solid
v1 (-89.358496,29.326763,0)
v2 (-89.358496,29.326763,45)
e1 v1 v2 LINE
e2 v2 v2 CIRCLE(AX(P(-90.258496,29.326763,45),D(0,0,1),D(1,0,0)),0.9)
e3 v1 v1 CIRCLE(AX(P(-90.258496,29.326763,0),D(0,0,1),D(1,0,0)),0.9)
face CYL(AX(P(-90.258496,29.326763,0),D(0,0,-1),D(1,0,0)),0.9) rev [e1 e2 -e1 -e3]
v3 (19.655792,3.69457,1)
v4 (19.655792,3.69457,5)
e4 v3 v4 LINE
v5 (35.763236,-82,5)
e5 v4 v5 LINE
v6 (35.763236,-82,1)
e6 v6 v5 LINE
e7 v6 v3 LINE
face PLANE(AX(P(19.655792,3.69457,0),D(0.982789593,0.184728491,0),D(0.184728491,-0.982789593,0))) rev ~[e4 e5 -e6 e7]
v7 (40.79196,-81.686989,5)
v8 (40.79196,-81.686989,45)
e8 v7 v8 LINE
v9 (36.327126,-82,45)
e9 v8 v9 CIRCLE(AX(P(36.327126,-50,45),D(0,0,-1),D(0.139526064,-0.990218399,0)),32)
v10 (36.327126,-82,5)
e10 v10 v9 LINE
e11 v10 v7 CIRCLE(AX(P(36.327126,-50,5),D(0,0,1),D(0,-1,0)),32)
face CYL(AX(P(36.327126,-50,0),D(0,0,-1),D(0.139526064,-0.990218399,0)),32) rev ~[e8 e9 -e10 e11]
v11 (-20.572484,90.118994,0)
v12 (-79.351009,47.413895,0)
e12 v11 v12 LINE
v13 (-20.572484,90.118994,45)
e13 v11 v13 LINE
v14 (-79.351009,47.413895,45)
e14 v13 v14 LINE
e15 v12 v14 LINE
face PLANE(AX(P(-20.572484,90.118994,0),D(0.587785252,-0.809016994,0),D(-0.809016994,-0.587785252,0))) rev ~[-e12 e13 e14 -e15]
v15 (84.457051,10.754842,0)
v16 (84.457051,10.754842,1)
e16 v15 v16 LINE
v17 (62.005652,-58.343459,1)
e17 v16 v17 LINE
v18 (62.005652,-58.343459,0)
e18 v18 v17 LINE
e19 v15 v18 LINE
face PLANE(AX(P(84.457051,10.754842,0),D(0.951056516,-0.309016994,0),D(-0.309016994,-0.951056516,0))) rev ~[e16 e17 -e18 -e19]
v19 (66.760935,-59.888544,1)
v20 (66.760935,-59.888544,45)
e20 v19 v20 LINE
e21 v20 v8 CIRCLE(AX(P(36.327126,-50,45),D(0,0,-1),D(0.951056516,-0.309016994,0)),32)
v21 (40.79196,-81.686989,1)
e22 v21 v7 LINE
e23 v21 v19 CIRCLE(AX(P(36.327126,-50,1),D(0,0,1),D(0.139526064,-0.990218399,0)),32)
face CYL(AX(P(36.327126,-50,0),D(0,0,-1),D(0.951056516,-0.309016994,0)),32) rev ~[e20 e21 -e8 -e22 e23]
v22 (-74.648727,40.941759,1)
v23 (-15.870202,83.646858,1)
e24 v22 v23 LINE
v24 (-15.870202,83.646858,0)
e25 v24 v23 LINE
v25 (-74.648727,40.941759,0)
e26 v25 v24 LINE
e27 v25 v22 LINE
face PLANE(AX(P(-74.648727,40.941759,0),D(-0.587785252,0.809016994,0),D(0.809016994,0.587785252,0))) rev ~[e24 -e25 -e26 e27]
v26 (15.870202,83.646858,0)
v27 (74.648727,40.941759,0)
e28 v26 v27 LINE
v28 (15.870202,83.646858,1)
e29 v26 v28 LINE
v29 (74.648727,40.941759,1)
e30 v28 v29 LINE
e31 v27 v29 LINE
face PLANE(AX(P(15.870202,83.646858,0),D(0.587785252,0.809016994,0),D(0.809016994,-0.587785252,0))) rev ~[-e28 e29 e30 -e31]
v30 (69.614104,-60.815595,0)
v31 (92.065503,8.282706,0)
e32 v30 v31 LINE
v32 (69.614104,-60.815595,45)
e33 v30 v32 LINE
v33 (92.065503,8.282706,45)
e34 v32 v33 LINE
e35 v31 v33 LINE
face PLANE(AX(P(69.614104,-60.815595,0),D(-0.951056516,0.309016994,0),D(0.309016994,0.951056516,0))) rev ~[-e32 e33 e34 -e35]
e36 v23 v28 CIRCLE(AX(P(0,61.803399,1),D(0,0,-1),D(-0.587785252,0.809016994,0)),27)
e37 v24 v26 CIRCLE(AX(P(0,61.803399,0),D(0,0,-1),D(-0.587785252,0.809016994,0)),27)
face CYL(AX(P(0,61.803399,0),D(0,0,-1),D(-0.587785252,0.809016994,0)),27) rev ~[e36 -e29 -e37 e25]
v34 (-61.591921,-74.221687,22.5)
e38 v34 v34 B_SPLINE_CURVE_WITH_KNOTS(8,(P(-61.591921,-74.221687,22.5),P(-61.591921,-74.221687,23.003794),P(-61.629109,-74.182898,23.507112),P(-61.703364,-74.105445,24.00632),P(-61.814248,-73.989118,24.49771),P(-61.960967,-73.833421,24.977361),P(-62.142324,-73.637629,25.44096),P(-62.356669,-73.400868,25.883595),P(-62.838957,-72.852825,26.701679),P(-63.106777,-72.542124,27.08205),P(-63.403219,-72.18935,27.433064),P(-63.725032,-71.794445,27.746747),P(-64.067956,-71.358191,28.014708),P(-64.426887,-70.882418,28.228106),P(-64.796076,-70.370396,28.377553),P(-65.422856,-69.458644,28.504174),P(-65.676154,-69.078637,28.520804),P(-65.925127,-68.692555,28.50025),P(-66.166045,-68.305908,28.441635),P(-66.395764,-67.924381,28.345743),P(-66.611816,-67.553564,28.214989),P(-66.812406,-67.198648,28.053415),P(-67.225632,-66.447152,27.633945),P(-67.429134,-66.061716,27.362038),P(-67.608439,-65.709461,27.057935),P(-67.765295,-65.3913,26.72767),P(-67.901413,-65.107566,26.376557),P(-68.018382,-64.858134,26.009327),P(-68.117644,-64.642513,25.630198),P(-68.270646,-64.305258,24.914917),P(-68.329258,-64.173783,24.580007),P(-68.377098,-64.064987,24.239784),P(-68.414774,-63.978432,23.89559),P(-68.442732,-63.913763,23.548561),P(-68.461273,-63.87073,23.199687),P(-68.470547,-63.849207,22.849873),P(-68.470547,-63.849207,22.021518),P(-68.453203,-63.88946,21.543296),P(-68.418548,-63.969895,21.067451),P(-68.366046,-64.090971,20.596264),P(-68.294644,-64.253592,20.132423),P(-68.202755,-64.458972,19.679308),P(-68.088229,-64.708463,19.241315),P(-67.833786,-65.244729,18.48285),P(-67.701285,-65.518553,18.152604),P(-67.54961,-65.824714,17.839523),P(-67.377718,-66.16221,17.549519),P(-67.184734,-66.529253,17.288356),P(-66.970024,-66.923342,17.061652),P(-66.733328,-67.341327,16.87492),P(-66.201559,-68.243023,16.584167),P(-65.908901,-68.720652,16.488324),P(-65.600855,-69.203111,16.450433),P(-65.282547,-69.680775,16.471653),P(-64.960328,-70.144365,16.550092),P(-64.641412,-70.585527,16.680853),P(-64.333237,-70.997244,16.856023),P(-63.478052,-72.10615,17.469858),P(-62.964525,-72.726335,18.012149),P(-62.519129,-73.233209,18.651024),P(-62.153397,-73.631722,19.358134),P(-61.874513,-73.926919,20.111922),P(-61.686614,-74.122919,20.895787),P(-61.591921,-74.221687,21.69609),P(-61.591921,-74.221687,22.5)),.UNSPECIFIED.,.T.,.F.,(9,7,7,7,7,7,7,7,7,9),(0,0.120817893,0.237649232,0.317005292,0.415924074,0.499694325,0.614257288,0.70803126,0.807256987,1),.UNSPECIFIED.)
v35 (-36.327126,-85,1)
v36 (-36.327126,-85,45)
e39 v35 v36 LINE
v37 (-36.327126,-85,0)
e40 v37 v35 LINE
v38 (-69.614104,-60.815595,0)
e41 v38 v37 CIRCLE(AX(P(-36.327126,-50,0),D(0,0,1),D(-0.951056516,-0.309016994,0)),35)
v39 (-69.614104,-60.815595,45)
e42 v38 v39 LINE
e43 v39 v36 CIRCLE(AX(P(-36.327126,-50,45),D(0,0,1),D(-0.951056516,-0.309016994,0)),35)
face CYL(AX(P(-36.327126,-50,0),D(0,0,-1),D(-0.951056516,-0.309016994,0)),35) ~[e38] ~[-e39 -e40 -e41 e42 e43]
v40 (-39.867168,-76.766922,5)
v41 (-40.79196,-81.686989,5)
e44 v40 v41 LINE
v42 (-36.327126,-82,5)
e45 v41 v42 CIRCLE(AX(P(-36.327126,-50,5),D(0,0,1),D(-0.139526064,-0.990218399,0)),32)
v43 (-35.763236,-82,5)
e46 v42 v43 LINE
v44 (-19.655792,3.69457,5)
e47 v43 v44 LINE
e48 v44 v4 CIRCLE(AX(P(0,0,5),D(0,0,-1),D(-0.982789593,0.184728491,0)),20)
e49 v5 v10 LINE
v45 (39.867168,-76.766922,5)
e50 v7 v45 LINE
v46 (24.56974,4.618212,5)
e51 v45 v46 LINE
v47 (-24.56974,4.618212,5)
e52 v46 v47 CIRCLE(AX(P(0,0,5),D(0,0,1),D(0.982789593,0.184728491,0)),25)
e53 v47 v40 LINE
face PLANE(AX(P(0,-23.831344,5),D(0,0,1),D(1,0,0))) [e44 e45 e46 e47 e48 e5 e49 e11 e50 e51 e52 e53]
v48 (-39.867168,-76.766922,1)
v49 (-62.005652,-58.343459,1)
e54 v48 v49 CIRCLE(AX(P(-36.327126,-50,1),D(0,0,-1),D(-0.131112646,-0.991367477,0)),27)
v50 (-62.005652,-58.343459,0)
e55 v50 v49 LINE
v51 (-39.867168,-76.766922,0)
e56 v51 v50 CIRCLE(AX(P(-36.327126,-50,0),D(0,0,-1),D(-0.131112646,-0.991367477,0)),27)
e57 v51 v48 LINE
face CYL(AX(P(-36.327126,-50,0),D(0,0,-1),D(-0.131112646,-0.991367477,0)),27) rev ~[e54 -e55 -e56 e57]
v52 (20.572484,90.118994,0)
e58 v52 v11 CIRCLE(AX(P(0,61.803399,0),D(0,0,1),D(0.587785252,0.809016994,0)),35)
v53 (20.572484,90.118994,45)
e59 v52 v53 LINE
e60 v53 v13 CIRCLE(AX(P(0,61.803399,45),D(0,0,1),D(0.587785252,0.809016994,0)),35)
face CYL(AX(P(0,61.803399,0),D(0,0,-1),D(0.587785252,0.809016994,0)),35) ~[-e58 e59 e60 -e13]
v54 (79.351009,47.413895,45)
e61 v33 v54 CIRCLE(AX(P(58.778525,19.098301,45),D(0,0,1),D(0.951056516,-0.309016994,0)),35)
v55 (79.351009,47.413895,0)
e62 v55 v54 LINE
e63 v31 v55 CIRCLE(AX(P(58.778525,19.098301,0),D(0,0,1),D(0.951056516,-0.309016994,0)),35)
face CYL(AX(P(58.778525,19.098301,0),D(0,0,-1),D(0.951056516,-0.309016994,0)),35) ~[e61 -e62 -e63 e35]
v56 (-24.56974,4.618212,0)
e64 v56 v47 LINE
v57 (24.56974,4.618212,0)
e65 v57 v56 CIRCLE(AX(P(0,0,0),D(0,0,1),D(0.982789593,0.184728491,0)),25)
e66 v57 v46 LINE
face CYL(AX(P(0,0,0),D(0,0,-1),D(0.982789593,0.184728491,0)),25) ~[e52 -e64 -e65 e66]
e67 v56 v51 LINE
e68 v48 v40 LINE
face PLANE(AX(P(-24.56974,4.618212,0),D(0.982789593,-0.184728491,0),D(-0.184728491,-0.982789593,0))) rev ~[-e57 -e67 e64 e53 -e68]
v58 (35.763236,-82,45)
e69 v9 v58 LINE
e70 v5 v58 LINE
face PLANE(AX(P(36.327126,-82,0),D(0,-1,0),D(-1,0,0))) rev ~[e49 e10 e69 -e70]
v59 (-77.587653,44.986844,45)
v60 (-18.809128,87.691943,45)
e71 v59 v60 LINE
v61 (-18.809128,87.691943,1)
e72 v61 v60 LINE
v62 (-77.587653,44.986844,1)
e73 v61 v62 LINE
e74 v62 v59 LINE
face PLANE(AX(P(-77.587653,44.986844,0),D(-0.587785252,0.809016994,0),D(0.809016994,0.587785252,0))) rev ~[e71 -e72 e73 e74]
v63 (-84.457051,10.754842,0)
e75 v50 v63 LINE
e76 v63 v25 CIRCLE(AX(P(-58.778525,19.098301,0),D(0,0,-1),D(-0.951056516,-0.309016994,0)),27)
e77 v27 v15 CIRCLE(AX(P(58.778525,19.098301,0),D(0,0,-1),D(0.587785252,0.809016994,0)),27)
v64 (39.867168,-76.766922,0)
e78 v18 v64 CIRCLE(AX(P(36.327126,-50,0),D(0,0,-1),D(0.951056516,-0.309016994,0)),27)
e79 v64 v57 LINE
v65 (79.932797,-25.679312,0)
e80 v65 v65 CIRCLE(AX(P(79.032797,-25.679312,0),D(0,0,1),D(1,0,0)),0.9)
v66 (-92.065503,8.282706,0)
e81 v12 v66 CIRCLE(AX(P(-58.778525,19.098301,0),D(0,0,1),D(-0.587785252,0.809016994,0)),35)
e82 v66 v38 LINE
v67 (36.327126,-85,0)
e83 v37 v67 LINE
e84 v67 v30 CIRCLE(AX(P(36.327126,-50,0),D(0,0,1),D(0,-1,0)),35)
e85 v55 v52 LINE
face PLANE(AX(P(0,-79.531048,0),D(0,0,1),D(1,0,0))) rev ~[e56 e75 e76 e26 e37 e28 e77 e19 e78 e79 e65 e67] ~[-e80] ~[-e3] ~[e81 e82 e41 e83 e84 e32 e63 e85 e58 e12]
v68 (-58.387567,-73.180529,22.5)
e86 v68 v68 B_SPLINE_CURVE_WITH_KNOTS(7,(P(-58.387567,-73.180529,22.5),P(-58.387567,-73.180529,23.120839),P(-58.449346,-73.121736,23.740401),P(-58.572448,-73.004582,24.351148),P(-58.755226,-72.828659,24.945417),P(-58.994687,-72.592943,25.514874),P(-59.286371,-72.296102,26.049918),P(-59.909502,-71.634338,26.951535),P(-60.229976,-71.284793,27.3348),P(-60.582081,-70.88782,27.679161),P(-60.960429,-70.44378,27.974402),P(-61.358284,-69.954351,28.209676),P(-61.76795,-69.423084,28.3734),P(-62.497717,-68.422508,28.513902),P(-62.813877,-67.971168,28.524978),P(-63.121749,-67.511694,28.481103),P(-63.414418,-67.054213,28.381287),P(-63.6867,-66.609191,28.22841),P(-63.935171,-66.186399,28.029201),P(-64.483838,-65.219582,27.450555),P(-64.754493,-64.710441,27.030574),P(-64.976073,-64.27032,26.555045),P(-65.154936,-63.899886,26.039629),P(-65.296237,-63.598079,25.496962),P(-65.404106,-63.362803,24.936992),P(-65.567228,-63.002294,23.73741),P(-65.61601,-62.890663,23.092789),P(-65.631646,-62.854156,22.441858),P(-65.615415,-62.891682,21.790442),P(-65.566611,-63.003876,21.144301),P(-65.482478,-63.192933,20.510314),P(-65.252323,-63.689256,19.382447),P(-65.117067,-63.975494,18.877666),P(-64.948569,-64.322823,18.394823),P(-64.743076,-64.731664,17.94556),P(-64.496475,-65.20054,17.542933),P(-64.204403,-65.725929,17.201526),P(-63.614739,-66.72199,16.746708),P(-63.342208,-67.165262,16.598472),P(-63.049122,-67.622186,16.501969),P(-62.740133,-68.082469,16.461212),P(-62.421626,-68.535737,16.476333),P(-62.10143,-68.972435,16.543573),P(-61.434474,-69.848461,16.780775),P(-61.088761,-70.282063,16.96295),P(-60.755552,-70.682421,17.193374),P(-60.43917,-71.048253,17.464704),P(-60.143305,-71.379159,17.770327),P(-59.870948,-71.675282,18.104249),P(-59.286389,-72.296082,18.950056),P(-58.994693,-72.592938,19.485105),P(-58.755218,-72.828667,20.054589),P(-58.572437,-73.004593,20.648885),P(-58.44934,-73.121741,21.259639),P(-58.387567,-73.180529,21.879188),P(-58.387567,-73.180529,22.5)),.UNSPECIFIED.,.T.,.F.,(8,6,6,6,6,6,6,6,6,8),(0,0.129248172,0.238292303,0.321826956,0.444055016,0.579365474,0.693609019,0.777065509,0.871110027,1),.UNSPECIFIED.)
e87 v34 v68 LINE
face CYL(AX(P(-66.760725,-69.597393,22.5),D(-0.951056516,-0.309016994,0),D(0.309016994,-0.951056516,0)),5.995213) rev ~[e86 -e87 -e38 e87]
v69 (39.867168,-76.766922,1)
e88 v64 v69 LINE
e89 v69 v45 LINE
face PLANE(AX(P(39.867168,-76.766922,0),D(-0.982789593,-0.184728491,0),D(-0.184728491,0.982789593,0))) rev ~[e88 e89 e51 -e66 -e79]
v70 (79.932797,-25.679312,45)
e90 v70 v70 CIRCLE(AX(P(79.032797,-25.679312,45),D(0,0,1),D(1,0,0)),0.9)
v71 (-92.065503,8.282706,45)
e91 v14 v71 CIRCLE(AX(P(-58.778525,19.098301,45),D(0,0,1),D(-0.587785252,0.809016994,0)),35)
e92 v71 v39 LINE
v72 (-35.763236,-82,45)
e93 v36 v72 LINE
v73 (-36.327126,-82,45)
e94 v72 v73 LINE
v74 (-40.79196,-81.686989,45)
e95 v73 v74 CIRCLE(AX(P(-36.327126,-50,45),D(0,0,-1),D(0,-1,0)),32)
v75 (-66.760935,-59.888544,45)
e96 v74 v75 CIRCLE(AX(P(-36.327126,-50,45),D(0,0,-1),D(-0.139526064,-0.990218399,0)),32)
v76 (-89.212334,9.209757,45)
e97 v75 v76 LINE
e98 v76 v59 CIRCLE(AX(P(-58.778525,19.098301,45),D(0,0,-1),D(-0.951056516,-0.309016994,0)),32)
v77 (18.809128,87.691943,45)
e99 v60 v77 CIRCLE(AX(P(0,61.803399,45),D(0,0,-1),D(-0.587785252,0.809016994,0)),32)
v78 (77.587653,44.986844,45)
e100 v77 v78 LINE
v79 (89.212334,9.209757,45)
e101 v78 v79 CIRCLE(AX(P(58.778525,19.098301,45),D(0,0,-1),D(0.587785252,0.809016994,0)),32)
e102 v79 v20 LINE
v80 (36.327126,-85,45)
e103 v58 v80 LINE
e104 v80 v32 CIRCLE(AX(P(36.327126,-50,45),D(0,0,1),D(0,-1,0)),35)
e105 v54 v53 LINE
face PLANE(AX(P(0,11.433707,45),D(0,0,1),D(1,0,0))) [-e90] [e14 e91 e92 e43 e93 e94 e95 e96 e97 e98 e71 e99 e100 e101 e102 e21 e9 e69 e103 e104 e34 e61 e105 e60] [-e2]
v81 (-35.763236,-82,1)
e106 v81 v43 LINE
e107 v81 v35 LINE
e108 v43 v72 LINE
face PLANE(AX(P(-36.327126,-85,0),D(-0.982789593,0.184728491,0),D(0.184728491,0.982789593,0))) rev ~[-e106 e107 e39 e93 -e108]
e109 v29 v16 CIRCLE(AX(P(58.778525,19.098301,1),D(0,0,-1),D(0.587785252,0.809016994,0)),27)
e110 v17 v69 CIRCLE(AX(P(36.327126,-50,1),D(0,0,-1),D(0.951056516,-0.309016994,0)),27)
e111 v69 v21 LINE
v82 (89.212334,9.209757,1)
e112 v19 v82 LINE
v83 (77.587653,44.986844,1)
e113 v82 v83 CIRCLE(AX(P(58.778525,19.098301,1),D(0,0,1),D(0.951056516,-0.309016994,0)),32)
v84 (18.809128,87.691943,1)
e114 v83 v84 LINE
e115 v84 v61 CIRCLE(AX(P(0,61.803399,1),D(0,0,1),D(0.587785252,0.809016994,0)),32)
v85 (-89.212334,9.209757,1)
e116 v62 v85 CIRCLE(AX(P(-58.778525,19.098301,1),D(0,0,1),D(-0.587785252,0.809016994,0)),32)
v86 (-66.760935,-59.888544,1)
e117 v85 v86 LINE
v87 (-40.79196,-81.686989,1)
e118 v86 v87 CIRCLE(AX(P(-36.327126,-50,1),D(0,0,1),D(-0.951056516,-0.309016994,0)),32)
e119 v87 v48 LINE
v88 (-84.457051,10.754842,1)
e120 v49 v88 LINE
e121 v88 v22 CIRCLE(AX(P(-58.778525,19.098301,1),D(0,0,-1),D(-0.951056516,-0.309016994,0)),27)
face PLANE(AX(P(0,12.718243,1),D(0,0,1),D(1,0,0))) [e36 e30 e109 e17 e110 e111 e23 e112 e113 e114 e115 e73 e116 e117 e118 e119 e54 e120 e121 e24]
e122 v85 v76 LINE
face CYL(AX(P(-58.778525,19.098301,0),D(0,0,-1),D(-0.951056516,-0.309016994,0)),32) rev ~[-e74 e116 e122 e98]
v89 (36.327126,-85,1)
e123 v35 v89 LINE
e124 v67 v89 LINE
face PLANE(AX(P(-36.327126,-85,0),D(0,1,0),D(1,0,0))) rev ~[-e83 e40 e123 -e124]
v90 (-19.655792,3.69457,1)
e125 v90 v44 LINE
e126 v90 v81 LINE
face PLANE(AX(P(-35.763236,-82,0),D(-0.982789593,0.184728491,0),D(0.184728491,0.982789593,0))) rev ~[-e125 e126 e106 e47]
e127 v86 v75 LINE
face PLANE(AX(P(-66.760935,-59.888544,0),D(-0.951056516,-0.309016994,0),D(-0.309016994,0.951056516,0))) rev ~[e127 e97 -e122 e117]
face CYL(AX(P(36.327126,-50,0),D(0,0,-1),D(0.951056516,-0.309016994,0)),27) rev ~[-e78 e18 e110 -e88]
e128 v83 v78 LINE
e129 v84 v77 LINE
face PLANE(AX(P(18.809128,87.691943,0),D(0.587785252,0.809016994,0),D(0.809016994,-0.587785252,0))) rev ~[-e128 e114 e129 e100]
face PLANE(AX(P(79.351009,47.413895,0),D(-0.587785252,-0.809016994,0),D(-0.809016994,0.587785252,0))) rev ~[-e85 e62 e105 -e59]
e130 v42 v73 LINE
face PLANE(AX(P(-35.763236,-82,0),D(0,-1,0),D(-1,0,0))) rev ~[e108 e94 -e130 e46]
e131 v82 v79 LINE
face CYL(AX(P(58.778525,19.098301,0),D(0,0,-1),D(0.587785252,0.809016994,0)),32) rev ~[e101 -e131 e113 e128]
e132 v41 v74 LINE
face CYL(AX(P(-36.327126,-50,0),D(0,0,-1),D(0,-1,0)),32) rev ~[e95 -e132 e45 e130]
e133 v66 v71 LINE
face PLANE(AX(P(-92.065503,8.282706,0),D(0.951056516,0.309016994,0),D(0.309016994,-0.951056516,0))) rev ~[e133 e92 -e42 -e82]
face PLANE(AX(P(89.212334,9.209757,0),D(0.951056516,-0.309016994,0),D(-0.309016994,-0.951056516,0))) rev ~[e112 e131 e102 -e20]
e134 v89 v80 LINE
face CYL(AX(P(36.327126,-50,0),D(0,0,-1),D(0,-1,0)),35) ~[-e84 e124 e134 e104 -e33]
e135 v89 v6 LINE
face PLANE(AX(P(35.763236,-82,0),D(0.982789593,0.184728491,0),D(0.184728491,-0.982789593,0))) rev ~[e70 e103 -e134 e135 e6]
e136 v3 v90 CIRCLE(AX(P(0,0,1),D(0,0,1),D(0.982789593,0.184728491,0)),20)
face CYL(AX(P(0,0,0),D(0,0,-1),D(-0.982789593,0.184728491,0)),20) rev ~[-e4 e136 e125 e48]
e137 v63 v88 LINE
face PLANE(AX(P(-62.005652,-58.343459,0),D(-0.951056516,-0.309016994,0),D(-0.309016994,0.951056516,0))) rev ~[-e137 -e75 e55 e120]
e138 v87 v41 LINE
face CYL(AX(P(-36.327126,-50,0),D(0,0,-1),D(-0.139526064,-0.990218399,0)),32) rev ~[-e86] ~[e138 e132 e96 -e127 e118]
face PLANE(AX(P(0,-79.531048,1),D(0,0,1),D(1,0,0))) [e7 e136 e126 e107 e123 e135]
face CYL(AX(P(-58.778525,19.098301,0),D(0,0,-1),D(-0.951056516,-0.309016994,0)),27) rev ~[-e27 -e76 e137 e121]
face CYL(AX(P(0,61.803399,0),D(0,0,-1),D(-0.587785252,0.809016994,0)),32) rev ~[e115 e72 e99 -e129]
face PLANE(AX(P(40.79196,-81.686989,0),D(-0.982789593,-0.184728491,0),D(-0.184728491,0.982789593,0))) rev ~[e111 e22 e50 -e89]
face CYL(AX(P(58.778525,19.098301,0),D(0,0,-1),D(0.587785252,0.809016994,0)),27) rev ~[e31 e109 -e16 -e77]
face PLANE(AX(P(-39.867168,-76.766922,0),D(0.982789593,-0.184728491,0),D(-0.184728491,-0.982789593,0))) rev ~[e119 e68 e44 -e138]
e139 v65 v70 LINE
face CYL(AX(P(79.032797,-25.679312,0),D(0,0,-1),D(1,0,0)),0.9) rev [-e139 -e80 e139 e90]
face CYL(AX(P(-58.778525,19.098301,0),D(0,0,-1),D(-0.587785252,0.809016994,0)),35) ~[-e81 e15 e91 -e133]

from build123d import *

# Parameters (mm, degrees)
F0_R     = 0.9
F1_DEPTH = 45
F2_DEPTH = 5
F3_DEPTH = 1
F4_R     = 5.995213452
F5_DEPTH = 25


with BuildPart() as f1:
    # F0 (on Top) → F1 (new body)
    with BuildSketch(Plane.XY):
        with BuildLine():
            Line((69.6141044706, -60.8155948031), (92.0655032996, 8.2827057594))
            ThreePointArc((92.0655032996, 8.2827057594), (92.0655032996, 29.9138953656), (79.3510090595, 47.4138953656))
            Line((79.3510090595, 47.4138953656), (20.5724838302, 90.1189936781))
            ThreePointArc((20.5724838302, 90.1189936781), (0, 96.803398875), (-20.5724838302, 90.1189936781))
            Line((-20.5724838302, 90.1189936781), (-79.3510090595, 47.4138953656))
            ThreePointArc((-79.3510090595, 47.4138953656), (-92.0655032996, 29.9138953656), (-92.0655032996, 8.2827057594))
            Line((-92.0655032996, 8.2827057594), (-69.6141044706, -60.8155948031))
            ThreePointArc((-69.6141044706, -60.8155948031), (-56.8996102305, -78.3155948031), (-36.3271264003, -85))
            Line((-36.3271264003, -85), (-35.7632361451, -82))
            Line((-35.7632361451, -82), (-36.3271264003, -82))
            ThreePointArc((-36.3271264003, -82), (-38.5650226814, -81.9216512768), (-40.7919604428, -81.6869887647))
            ThreePointArc((-40.7919604428, -81.6869887647), (-56.9006983727, -74.5097559412), (-66.7609349217, -59.88854382))
            Line((-66.7609349217, -59.88854382), (-89.2123337507, 9.2097567425))
            ThreePointArc((-89.2123337507, 9.2097567425), (-89.2123337507, 28.9868443825), (-77.5876533026, 44.9868443825))
            Line((-77.5876533026, 44.9868443825), (-18.8091280734, 87.691942695))
            ThreePointArc((-18.8091280734, 87.691942695), (0, 93.803398875), (18.8091280734, 87.691942695))
            Line((18.8091280734, 87.691942695), (77.5876533026, 44.9868443825))
            ThreePointArc((77.5876533026, 44.9868443825), (89.2123337507, 28.9868443825), (89.2123337507, 9.2097567425))
            Line((89.2123337507, 9.2097567425), (66.7609349217, -59.88854382))
            ThreePointArc((66.7609349217, -59.88854382), (56.9006983727, -74.5097559412), (40.7919604428, -81.6869887647))
            ThreePointArc((40.7919604428, -81.6869887647), (38.5650226814, -81.9216512768), (36.3271264003, -82))
            Line((36.3271264003, -82), (35.7632361451, -82))
            Line((35.7632361451, -82), (36.3271264003, -85))
            ThreePointArc((36.3271264003, -85), (56.8996102305, -78.3155948031), (69.6141044706, -60.8155948031))
        make_face()
        with Locations((79.0327965041, -25.6793122326)):
            Circle(F0_R, mode=Mode.SUBTRACT)
        with Locations((-90.2584959186, 29.3267630763)):
            Circle(F0_R, mode=Mode.SUBTRACT)
    extrude(amount=F1_DEPTH)

    # F0 (on Top) → F2 (join)
    with BuildSketch(Plane.XY):
        with BuildLine():
            Line((19.6557918633, 3.6945698296), (34.8234190532, -77))
            Line((34.8234190532, -77), (36.3271264003, -77))
            ThreePointArc((36.3271264003, -77), (38.1009794725, -76.9416674554), (39.8671678511, -76.7669218725))
            Line((39.8671678511, -76.7669218725), (24.5697398292, 4.618212287))
            ThreePointArc((24.5697398292, 4.618212287), (0, 25), (-24.5697398292, 4.618212287))
            Line((-24.5697398292, 4.618212287), (-39.8671678511, -76.7669218725))
            ThreePointArc((-39.8671678511, -76.7669218725), (-38.1009794725, -76.9416674554), (-36.3271264003, -77))
            Line((-36.3271264003, -77), (-34.8234190532, -77))
            Line((-34.8234190532, -77), (-19.6557918633, 3.6945698296))
            ThreePointArc((-19.6557918633, 3.6945698296), (0, 20), (19.6557918633, 3.6945698296))
        make_face()
        with BuildLine():
            Line((-36.3271264003, -82), (-35.7632361451, -82))
            Line((-35.7632361451, -82), (-34.8234190532, -77))
            Line((-34.8234190532, -77), (-36.3271264003, -77))
            ThreePointArc((-36.3271264003, -77), (-38.1009794725, -76.9416674554), (-39.8671678511, -76.7669218725))
            Line((-39.8671678511, -76.7669218725), (-40.7919604428, -81.6869887647))
            ThreePointArc((-40.7919604428, -81.6869887647), (-38.5650226814, -81.9216512768), (-36.3271264003, -82))
        make_face()
        with BuildLine():
            Line((34.8234190532, -77), (35.7632361451, -82))
            Line((35.7632361451, -82), (36.3271264003, -82))
            ThreePointArc((36.3271264003, -82), (38.5650226814, -81.9216512768), (40.7919604428, -81.6869887647))
            Line((40.7919604428, -81.6869887647), (39.8671678511, -76.7669218725))
            ThreePointArc((39.8671678511, -76.7669218725), (38.1009794725, -76.9416674554), (36.3271264003, -77))
            Line((36.3271264003, -77), (34.8234190532, -77))
        make_face()
    extrude(amount=F2_DEPTH)

    # F0 (on Top) → F3 (join)
    with BuildSketch(Plane.XY):
        Polygon((-35.7632361451, -82), (35.7632361451, -82), (34.8234190532, -77), (-34.8234190532, -77), align=None)
        Polygon((-36.3271264003, -85), (36.3271264003, -85), (35.7632361451, -82), (-35.7632361451, -82), align=None)
        with BuildLine():
            Line((-34.8234190532, -77), (34.8234190532, -77))
            Line((34.8234190532, -77), (19.6557918633, 3.6945698296))
            ThreePointArc((19.6557918633, 3.6945698296), (0, 20), (-19.6557918633, 3.6945698296))
            Line((-19.6557918633, 3.6945698296), (-34.8234190532, -77))
        make_face()
        with BuildLine():
            Line((39.8671678511, -76.7669218725), (40.7919604428, -81.6869887647))
            ThreePointArc((40.7919604428, -81.6869887647), (56.9006983727, -74.5097559412), (66.7609349217, -59.88854382))
            Line((66.7609349217, -59.88854382), (89.2123337507, 9.2097567425))
            ThreePointArc((89.2123337507, 9.2097567425), (89.2123337507, 28.9868443825), (77.5876533026, 44.9868443825))
            Line((77.5876533026, 44.9868443825), (18.8091280734, 87.691942695))
            ThreePointArc((18.8091280734, 87.691942695), (0, 93.803398875), (-18.8091280734, 87.691942695))
            Line((-18.8091280734, 87.691942695), (-77.5876533026, 44.9868443825))
            ThreePointArc((-77.5876533026, 44.9868443825), (-89.2123337507, 28.9868443825), (-89.2123337507, 9.2097567425))
            Line((-89.2123337507, 9.2097567425), (-66.7609349217, -59.88854382))
            ThreePointArc((-66.7609349217, -59.88854382), (-56.9006983727, -74.5097559412), (-40.7919604428, -81.6869887647))
            Line((-40.7919604428, -81.6869887647), (-39.8671678511, -76.7669218725))
            ThreePointArc((-39.8671678511, -76.7669218725), (-53.5981184837, -70.7536221526), (-62.0056523402, -58.3434588481))
            Line((-62.0056523402, -58.3434588481), (-84.4570511692, 10.7548417144))
            ThreePointArc((-84.4570511692, 10.7548417144), (-84.4570511692, 27.4417594106), (-74.6487270411, 40.9417594106))
            Line((-74.6487270411, 40.9417594106), (-15.8702018119, 83.6468577231))
            ThreePointArc((-15.8702018119, 83.6468577231), (0, 88.803398875), (15.8702018119, 83.6468577231))
            Line((15.8702018119, 83.6468577231), (74.6487270411, 40.9417594106))
            ThreePointArc((74.6487270411, 40.9417594106), (84.4570511692, 27.4417594106), (84.4570511692, 10.7548417144))
            Line((84.4570511692, 10.7548417144), (62.0056523402, -58.3434588481))
            ThreePointArc((62.0056523402, -58.3434588481), (53.5981184837, -70.7536221526), (39.8671678511, -76.7669218725))
        make_face()
    extrude(amount=F3_DEPTH)

    # F4 (on face) → F5 (cut)
    with BuildSketch(Plane(origin=(-80.8398038851, -26.2664445219, 0), x_dir=(0.3090169944, -0.9510565163, 0), z_dir=(-0.9510565163, -0.3090169944, 0))):
        with Locations((45.5608554184, 22.5)):
            Circle(F4_R)
    extrude(amount=-F5_DEPTH, mode=Mode.SUBTRACT)


solid = f1.part
